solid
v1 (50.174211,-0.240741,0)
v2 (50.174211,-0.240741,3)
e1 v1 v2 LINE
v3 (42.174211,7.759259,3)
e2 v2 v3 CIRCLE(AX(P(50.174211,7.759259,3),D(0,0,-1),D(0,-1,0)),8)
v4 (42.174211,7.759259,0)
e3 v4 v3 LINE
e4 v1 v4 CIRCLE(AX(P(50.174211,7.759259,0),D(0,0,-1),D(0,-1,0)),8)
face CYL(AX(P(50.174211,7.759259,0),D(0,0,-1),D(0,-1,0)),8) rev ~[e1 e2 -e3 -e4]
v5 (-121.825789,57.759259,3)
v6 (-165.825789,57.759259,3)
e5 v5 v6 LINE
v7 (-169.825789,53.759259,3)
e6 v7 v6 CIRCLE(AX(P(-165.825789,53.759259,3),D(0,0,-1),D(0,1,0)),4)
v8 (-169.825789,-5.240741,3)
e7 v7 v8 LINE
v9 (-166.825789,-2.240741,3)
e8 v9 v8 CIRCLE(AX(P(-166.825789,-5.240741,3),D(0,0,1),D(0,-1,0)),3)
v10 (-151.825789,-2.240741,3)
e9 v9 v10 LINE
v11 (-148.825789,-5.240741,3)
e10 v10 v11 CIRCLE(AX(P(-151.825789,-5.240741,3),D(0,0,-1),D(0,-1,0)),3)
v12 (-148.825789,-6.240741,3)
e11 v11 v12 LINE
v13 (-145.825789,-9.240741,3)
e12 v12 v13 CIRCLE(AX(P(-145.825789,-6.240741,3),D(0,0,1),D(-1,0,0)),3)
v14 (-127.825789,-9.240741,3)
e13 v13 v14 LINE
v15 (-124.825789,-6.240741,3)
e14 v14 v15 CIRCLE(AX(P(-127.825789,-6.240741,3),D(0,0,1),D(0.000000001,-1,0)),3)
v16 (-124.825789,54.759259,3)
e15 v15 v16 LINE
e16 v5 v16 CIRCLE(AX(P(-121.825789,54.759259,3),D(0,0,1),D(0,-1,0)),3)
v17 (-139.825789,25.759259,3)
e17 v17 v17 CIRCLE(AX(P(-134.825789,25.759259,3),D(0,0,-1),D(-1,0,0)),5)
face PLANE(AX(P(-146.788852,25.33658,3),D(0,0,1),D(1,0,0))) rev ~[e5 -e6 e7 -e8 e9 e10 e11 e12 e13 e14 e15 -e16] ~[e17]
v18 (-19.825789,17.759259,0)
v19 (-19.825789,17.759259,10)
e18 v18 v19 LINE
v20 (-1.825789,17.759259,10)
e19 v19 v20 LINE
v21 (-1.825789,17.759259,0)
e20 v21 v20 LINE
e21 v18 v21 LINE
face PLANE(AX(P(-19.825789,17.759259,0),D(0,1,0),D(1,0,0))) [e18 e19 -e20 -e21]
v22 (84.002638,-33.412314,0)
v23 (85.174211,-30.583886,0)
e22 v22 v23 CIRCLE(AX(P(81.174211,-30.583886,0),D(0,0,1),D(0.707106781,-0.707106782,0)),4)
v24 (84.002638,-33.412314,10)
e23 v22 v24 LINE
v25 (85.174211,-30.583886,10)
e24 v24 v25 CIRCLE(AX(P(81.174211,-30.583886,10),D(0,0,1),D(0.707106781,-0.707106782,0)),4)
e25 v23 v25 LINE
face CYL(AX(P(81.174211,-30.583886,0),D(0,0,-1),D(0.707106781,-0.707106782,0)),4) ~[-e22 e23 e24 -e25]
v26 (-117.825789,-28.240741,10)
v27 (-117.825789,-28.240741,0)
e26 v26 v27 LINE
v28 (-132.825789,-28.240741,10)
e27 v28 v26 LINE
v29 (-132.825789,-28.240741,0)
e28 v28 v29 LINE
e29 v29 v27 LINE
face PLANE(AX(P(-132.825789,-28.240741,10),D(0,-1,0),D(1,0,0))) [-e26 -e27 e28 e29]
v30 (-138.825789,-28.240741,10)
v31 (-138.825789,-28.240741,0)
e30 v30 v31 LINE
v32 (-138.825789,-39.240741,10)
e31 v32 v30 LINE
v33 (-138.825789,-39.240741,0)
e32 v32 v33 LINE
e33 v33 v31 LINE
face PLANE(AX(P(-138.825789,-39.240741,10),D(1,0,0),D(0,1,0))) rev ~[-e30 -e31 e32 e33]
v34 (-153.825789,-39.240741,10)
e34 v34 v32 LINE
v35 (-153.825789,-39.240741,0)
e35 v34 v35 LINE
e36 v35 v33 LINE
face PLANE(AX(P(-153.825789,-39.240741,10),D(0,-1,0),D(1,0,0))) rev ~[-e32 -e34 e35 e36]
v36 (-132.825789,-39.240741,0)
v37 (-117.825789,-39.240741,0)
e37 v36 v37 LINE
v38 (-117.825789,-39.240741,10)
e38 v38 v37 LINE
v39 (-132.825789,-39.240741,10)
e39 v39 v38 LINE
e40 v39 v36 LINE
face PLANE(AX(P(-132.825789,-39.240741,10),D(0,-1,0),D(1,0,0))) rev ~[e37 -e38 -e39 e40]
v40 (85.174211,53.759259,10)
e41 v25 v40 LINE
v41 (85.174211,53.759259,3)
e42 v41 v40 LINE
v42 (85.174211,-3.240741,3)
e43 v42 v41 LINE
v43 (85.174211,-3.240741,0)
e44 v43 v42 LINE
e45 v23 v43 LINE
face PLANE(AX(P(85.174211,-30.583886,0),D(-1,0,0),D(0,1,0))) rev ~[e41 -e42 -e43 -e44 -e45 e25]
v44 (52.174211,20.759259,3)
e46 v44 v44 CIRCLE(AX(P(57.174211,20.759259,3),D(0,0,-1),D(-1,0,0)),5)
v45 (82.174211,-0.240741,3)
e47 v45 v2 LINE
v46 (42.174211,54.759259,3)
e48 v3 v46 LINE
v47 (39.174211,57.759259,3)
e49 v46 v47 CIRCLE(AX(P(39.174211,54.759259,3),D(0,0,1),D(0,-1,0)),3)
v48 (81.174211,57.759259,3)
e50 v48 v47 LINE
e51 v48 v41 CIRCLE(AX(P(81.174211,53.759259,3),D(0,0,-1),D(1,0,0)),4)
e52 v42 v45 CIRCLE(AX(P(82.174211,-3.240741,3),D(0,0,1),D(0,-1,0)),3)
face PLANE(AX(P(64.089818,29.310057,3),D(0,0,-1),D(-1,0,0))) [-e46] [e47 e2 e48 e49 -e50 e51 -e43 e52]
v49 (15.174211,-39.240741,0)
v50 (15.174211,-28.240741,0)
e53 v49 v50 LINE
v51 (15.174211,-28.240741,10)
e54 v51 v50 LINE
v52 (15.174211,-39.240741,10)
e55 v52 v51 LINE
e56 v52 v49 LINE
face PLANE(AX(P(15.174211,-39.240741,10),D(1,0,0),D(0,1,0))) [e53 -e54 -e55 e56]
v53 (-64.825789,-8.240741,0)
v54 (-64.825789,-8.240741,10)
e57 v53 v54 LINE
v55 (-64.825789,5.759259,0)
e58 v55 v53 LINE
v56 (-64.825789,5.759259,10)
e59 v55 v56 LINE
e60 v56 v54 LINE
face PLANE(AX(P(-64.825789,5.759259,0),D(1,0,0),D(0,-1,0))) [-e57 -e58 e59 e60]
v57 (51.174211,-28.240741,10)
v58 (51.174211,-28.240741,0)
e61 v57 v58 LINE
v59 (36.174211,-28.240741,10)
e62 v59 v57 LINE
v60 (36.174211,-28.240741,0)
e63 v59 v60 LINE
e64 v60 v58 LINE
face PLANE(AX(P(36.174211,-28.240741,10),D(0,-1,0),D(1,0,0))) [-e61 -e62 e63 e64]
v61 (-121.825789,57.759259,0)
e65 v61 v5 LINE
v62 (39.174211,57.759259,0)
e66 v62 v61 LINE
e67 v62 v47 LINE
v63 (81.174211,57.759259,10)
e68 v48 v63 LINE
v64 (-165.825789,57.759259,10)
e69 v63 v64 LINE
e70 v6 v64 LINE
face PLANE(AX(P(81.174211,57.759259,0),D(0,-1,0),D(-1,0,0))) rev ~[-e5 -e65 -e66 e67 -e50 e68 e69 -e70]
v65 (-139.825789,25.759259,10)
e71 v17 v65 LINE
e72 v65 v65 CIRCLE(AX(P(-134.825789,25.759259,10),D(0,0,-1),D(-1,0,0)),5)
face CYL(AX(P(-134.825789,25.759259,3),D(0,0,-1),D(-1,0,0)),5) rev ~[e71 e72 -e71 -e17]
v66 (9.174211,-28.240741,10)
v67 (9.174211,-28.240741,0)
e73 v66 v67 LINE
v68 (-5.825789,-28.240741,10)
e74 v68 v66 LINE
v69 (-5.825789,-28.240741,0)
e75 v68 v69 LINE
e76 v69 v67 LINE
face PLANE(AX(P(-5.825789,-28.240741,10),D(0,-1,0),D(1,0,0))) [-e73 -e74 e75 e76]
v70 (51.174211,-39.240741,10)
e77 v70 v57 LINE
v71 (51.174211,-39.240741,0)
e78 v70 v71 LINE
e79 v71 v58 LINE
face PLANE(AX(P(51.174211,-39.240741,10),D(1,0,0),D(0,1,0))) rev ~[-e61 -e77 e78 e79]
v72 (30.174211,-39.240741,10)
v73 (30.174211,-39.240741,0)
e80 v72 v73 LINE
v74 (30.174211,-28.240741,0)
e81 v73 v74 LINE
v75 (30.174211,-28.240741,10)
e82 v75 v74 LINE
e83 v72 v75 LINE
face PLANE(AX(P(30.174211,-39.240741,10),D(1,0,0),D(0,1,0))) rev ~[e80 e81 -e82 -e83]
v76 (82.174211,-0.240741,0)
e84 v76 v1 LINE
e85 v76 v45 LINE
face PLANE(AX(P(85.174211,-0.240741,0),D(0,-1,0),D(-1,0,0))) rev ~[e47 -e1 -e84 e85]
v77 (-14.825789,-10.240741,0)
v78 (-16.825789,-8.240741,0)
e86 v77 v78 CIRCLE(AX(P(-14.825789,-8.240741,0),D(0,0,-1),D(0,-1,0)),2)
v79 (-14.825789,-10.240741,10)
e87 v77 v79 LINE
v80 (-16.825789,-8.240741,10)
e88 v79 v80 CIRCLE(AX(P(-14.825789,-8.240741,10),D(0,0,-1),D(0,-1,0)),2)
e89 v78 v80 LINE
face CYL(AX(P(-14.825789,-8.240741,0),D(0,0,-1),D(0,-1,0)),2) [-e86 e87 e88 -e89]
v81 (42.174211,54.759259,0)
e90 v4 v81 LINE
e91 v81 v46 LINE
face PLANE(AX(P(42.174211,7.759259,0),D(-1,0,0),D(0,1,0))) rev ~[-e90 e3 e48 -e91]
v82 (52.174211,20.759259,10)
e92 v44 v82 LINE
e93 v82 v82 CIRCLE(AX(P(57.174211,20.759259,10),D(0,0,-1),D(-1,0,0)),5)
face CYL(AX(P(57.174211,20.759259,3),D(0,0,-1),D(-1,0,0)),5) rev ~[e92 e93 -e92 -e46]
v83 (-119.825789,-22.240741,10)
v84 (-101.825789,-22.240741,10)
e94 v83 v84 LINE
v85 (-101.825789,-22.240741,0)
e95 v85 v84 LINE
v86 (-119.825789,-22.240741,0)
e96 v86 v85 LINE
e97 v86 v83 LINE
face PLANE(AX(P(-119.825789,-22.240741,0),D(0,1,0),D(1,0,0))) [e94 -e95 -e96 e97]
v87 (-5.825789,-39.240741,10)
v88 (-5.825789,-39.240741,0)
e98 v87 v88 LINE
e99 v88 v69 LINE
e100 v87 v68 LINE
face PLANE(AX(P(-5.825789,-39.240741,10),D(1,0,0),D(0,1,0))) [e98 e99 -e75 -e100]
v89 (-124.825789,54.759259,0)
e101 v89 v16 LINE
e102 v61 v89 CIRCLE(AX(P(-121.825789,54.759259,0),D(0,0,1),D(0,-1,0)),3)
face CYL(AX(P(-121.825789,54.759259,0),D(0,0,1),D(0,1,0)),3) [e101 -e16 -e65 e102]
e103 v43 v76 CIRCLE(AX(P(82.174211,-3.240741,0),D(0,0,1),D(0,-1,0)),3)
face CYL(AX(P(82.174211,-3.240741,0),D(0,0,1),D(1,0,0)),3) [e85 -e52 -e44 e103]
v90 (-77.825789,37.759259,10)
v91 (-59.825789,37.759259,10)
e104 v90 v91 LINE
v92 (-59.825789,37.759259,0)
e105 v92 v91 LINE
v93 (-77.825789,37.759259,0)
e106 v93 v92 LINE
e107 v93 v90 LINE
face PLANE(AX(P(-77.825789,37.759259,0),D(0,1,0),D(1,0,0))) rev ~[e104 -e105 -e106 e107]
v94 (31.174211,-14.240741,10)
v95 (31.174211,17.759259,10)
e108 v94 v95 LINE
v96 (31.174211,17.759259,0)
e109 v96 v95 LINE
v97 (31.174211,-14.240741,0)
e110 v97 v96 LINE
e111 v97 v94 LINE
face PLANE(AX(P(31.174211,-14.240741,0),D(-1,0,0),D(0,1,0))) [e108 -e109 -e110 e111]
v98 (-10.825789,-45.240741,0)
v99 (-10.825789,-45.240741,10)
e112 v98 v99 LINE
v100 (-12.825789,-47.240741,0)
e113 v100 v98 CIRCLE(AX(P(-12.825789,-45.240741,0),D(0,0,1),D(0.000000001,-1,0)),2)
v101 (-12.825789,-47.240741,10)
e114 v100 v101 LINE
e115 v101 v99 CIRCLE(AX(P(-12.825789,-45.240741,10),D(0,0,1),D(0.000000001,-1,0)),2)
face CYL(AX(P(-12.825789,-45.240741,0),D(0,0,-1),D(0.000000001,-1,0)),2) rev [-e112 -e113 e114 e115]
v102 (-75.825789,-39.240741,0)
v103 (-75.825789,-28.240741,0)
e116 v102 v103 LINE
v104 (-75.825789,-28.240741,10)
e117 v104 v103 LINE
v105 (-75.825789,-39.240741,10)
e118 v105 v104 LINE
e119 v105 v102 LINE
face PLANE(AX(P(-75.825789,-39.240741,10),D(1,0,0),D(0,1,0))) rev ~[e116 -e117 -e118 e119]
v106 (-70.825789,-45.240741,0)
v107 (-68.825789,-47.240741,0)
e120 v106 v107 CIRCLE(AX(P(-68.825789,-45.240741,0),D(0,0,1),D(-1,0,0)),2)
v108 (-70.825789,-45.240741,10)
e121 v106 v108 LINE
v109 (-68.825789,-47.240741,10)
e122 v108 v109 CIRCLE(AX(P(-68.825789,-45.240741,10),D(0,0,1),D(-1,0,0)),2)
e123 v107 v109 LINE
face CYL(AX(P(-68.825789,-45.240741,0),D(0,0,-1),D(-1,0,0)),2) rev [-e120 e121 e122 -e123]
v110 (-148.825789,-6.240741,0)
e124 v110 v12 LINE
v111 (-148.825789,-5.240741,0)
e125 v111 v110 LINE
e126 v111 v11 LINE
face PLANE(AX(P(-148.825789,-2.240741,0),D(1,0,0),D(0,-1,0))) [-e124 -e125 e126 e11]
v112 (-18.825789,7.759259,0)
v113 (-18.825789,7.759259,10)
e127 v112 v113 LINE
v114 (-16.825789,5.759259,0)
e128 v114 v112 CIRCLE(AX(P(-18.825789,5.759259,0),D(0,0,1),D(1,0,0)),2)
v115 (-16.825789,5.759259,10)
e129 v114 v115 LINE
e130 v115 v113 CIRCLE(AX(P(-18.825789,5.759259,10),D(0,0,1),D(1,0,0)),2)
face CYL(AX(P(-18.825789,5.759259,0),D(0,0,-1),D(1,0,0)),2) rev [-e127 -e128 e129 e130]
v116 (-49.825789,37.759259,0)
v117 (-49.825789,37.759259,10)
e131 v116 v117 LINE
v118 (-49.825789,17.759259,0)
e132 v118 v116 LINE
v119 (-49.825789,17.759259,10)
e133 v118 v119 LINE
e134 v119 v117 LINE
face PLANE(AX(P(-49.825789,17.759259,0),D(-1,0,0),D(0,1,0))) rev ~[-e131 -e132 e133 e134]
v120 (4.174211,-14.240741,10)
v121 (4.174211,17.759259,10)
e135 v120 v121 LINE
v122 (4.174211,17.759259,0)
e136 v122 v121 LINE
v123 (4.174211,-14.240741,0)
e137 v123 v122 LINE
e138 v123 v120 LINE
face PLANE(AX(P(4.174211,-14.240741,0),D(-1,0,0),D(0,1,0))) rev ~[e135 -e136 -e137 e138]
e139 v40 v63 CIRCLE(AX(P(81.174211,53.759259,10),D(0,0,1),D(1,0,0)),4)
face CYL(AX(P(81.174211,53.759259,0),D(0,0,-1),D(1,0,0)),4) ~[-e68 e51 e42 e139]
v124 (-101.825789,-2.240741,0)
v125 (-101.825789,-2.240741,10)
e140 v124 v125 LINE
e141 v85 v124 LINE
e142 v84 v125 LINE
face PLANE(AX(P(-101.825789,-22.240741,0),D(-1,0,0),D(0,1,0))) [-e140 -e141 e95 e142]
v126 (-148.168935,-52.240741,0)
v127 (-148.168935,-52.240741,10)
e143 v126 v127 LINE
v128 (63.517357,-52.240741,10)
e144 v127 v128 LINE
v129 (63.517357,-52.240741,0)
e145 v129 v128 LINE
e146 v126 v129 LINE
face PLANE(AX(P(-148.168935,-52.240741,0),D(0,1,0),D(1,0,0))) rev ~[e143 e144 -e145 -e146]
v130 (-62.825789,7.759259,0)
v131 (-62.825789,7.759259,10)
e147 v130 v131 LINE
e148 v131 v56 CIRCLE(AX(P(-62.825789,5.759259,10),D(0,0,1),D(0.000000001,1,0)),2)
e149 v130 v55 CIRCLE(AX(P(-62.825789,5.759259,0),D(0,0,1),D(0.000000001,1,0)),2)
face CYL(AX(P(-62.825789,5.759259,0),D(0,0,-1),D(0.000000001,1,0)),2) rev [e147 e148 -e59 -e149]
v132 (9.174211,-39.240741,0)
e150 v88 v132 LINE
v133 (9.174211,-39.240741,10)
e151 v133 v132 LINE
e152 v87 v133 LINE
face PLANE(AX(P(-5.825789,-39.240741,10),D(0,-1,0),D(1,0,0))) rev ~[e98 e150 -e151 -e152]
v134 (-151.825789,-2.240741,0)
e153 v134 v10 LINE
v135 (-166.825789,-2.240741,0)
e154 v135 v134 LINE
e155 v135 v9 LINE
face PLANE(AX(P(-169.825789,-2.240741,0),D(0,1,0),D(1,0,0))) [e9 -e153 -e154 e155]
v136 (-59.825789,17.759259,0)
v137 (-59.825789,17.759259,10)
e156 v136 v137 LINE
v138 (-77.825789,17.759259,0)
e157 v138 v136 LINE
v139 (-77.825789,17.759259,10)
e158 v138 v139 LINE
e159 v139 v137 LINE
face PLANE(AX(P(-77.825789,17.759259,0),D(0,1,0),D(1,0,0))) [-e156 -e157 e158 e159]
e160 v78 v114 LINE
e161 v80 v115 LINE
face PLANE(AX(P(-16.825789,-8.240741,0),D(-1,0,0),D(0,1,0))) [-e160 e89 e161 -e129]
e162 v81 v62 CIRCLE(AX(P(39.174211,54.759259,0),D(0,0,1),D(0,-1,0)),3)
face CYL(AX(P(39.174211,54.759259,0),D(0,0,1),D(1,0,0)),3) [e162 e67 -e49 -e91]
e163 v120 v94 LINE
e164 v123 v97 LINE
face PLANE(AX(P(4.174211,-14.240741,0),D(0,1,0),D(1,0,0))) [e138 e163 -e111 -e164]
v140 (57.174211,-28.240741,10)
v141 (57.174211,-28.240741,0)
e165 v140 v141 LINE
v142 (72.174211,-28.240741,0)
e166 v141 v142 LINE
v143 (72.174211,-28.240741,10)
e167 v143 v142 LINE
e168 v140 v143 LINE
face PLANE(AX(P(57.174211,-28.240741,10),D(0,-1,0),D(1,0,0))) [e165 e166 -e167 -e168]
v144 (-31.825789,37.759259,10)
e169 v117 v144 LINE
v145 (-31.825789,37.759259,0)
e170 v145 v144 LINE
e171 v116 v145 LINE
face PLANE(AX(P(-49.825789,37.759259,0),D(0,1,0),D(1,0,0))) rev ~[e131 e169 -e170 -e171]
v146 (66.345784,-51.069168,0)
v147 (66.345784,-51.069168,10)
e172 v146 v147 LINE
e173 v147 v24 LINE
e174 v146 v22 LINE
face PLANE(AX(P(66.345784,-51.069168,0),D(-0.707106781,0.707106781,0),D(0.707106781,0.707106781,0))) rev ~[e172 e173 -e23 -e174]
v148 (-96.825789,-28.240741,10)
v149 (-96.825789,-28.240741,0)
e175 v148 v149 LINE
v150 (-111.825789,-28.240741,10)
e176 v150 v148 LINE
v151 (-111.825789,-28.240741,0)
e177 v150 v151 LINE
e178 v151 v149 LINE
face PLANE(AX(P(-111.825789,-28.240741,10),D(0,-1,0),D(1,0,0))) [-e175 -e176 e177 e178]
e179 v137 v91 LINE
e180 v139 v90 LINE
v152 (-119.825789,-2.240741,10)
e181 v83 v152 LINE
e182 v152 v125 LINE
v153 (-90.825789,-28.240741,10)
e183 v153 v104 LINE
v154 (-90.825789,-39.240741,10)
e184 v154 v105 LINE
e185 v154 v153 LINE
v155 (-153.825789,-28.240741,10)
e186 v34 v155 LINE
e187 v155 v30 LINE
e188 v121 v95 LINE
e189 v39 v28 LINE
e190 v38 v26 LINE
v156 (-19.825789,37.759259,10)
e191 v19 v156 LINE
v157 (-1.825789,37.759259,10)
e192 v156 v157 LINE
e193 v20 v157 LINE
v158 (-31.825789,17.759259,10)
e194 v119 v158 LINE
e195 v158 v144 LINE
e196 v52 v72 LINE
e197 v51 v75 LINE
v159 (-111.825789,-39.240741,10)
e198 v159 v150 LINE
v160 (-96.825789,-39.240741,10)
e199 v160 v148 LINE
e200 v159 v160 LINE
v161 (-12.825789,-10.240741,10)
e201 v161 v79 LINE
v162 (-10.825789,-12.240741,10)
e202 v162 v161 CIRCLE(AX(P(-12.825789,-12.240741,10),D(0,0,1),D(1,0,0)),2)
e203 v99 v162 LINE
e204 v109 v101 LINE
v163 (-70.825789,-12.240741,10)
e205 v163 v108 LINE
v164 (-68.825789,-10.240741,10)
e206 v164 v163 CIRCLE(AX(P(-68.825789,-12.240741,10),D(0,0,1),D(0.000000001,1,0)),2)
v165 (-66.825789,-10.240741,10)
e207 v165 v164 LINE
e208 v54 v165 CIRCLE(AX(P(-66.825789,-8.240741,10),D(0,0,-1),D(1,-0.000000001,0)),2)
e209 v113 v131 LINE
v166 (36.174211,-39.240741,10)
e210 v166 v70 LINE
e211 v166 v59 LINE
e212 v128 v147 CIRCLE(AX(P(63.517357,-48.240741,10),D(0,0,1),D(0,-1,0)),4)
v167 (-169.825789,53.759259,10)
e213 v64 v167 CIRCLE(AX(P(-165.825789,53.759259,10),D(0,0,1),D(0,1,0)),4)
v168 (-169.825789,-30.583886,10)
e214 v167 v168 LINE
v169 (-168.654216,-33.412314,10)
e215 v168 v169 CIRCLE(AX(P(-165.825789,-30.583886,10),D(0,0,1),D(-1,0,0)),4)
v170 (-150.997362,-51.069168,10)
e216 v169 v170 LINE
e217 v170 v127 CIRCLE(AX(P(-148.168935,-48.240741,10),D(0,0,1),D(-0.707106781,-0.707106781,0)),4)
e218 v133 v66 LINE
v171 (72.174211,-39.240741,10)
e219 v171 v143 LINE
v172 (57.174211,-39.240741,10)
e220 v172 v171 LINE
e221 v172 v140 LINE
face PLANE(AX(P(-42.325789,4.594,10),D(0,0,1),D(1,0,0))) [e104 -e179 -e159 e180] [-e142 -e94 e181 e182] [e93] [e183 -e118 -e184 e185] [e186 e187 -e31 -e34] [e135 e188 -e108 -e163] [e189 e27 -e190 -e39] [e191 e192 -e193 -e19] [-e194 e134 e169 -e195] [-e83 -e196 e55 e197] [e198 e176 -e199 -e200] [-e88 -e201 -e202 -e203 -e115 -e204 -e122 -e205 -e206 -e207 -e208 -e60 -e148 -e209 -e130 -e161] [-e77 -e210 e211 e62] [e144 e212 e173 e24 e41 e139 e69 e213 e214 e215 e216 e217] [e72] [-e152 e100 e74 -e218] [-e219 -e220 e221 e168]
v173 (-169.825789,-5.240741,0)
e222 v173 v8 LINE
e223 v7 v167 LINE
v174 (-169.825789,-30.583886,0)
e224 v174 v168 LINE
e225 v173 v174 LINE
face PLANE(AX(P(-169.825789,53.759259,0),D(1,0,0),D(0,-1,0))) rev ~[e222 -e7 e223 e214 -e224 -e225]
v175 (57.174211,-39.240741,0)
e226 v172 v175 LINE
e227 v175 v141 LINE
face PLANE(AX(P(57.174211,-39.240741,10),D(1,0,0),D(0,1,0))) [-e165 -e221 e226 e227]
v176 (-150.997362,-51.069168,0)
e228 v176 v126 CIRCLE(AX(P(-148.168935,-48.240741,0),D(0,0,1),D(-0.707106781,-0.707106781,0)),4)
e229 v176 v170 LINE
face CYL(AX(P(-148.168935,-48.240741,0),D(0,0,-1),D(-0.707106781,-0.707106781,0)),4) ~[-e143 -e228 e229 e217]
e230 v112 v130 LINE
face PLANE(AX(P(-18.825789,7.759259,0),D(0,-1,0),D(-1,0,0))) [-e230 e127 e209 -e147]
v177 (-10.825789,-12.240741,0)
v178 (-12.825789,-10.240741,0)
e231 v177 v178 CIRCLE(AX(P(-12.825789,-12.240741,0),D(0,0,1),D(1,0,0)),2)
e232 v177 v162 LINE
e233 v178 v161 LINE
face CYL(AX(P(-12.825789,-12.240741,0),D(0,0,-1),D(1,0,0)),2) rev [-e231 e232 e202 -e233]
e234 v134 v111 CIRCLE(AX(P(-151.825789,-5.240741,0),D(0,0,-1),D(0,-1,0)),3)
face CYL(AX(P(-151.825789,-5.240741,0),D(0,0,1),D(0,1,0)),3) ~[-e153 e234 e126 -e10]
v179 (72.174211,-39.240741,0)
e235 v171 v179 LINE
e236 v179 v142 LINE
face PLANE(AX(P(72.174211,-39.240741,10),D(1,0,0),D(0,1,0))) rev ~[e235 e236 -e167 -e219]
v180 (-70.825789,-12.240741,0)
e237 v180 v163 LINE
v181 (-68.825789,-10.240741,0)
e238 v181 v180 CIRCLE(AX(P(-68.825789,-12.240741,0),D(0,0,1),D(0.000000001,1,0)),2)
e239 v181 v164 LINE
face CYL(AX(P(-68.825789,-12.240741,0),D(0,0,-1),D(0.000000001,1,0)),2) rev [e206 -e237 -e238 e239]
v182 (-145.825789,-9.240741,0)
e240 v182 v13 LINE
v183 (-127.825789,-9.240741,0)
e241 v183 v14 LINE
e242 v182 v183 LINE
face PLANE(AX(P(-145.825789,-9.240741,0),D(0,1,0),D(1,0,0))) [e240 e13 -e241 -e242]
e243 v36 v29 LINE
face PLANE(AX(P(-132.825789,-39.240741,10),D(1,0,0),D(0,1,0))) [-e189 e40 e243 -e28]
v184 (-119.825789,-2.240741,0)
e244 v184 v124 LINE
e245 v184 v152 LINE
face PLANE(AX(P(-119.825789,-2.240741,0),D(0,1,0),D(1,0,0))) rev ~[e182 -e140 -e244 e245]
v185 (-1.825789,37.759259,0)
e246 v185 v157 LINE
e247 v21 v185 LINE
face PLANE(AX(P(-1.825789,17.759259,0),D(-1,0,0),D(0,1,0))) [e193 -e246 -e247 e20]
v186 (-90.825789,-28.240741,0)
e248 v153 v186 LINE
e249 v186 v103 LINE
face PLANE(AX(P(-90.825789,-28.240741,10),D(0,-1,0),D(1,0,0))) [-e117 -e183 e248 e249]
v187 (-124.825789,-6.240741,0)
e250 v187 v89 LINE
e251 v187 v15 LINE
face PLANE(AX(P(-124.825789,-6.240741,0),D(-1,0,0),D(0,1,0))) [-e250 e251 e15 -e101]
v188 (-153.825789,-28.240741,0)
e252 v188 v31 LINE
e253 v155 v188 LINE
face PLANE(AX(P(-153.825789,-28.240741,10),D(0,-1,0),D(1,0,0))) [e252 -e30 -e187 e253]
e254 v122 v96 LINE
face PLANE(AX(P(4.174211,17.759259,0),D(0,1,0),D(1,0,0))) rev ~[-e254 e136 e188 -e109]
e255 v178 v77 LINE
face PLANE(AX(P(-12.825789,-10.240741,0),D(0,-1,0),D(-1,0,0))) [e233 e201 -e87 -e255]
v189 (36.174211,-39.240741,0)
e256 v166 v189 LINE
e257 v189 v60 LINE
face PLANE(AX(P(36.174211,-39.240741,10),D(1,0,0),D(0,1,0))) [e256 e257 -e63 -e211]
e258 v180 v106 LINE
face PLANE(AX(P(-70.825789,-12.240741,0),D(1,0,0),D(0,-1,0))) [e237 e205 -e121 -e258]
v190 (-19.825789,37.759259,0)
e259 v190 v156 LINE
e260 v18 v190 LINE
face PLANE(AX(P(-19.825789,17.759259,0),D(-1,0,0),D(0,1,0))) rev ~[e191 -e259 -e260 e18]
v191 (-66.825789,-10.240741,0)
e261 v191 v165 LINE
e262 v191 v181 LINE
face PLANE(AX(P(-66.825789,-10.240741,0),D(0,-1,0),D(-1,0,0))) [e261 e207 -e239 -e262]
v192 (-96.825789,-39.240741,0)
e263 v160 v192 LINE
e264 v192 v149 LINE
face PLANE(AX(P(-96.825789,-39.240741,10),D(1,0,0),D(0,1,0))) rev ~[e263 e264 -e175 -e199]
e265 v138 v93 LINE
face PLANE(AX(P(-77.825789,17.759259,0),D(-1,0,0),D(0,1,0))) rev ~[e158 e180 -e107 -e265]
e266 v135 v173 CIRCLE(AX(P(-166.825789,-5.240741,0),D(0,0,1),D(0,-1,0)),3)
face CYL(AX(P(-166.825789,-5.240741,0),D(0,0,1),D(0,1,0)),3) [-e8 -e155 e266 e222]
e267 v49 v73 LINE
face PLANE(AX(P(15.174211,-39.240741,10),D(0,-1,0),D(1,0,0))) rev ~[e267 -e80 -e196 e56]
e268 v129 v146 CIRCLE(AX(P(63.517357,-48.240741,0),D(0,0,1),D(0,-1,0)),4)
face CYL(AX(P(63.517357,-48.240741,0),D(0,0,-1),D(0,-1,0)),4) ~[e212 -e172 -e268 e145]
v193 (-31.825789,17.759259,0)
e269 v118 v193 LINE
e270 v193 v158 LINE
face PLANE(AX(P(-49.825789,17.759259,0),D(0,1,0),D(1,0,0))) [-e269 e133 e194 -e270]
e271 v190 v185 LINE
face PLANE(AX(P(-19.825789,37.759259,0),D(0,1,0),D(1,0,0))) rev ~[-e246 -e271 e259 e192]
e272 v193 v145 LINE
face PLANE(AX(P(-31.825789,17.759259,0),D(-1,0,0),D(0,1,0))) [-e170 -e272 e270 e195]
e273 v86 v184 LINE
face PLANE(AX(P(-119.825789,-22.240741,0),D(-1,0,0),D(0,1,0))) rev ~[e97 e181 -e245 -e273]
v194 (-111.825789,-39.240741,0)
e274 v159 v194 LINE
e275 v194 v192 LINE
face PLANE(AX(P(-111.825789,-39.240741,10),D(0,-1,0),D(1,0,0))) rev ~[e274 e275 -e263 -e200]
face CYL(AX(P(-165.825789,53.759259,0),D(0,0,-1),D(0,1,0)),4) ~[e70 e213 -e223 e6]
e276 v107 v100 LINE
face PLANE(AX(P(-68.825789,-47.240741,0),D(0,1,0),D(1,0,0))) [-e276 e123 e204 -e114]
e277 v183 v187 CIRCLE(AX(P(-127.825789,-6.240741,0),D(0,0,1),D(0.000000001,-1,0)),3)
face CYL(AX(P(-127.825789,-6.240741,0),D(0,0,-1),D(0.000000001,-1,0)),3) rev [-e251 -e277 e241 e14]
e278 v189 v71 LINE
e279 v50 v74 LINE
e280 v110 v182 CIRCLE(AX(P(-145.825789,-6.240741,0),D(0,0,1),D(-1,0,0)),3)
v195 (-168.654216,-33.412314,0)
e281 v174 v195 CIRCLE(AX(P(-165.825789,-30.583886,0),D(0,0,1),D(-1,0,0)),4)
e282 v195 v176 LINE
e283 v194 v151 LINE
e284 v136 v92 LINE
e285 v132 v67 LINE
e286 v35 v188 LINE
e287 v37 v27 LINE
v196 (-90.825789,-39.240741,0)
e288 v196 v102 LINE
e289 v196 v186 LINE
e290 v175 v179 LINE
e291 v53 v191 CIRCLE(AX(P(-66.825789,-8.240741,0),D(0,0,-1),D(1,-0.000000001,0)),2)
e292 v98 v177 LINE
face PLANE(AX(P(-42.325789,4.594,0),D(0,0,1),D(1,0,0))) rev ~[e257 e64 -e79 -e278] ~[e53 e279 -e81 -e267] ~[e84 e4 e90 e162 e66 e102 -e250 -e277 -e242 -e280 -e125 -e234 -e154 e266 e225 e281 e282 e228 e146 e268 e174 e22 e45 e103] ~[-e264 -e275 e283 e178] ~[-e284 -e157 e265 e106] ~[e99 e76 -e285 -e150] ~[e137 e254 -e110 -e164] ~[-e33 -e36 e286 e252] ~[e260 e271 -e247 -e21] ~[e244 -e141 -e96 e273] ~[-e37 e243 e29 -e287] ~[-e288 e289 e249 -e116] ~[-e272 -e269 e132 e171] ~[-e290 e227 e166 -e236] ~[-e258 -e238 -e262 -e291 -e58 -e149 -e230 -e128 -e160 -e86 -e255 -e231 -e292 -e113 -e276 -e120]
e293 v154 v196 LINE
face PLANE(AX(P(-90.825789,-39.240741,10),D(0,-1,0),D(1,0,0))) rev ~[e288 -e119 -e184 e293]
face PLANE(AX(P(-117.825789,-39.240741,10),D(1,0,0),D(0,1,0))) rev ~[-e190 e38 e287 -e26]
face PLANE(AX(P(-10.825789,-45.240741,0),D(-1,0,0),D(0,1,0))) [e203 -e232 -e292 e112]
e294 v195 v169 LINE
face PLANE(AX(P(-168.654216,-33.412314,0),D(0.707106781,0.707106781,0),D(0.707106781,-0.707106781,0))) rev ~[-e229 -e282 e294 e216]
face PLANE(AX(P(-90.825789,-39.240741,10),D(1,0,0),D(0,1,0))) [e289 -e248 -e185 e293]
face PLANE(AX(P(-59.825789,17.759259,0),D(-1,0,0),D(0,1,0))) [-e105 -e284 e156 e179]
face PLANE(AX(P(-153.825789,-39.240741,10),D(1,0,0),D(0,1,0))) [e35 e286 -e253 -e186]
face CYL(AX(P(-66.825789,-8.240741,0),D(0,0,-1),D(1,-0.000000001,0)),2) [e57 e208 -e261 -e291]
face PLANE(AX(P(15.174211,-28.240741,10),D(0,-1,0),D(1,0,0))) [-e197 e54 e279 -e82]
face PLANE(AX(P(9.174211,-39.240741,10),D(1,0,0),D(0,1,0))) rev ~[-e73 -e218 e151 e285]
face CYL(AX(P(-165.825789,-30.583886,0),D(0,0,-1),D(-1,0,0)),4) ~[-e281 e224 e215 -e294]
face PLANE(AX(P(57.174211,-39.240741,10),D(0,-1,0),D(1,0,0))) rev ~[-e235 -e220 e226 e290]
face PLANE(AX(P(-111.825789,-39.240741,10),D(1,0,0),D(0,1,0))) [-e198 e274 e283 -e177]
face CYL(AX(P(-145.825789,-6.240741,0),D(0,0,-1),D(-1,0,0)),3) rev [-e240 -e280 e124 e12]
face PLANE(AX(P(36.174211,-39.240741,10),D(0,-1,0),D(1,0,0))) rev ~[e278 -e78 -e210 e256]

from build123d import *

# Parameters (mm, degrees)
SKETCH1_W           = 18
SKETCH1_H           = 20
SKETCH1_W_2         = 27
SKETCH1_H_2         = 32
BOSS_EXTRUDE1_DEPTH = 10
SKETCH2_W           = 15
SKETCH2_H           = 11
CUT_EXTRUDE1_DEPTH  = 10
CUT_EXTRUDE2_DEPTH  = 3
FILLET1_R           = 3
FILLET2_R           = 3
FILLET3_R           = 3
FILLET4_R           = 3
FILLET5_R           = 3
CUT_EXTRUDE3_DEPTH  = 10
SKETCH5_R           = 5
CUT_EXTRUDE4_DEPTH  = 7


with BuildPart() as part:
    # Sketch1 → Boss-Extrude1 (new body)
    with BuildSketch(Plane.XY):
        with BuildLine():
            Line((-168.654215956, -33.412313616), (-150.997361707, -51.069167865))
            ThreePointArc((-150.997361707, -51.069167865), (-149.699668311, -51.936258871), (-148.168934582, -52.240740741))
            Line((-148.168934582, -52.240740741), (63.517356919, -52.240740741))
            ThreePointArc((63.517356919, -52.240740741), (65.048090649, -51.936258871), (66.345784044, -51.069167865))
            Line((66.345784044, -51.069167865), (84.002638293, -33.412313616))
            ThreePointArc((84.002638293, -33.412313616), (84.869729299, -32.114620221), (85.174211169, -30.583886491))
            Line((85.174211169, -30.583886491), (85.174211169, 53.759259259))
            ThreePointArc((85.174211169, 53.759259259), (84.002638293, 56.587686384), (81.174211169, 57.759259259))
            Line((81.174211169, 57.759259259), (-165.825788831, 57.759259259))
            ThreePointArc((-165.825788831, 57.759259259), (-168.654215956, 56.587686384), (-169.825788831, 53.759259259))
            Line((-169.825788831, 53.759259259), (-169.825788831, -30.583886491))
            ThreePointArc((-169.825788831, -30.583886491), (-169.521306961, -32.114620221), (-168.654215956, -33.412313616))
        make_face()
        with Locations((-68.825788831, 27.759259259)):
            Rectangle(SKETCH1_W, SKETCH1_H, mode=Mode.SUBTRACT)
        with Locations((-40.825788831, 27.759259259)):
            Rectangle(SKETCH1_W, SKETCH1_H, mode=Mode.SUBTRACT)
        with Locations((-10.825788831, 27.759259259)):
            Rectangle(SKETCH1_W, SKETCH1_H, mode=Mode.SUBTRACT)
        with Locations((-110.825788831, -12.240740741)):
            Rectangle(SKETCH1_W, SKETCH1_H, mode=Mode.SUBTRACT)
        with Locations((17.674211169, 1.759259259)):
            Rectangle(SKETCH1_W_2, SKETCH1_H_2, mode=Mode.SUBTRACT)
    extrude(amount=BOSS_EXTRUDE1_DEPTH)

    # Sketch2 → Cut-Extrude1 (cut)
    with BuildSketch(Plane.XY.offset(10)):
        with Locations((-146.325788831, -33.740740741)):
            Rectangle(SKETCH2_W, SKETCH2_H)
        with Locations((-125.325788831, -33.740740741)):
            Rectangle(SKETCH2_W, SKETCH2_H)
        with Locations((-104.325788831, -33.740740741)):
            Rectangle(SKETCH2_W, SKETCH2_H)
        with Locations((-83.325788831, -33.740740741)):
            Rectangle(SKETCH2_W, SKETCH2_H)
        with Locations((1.674211169, -33.740740741)):
            Rectangle(SKETCH2_W, SKETCH2_H)
        with Locations((22.674211169, -33.740740741)):
            Rectangle(SKETCH2_W, SKETCH2_H)
        with Locations((43.674211169, -33.740740741)):
            Rectangle(SKETCH2_W, SKETCH2_H)
        with Locations((64.674211169, -33.740740741)):
            Rectangle(SKETCH2_W, SKETCH2_H)
    extrude(amount=-CUT_EXTRUDE1_DEPTH, mode=Mode.SUBTRACT)

    # Sketch3 → Cut-Extrude2 (cut)
    with BuildSketch(Plane(origin=(0, 0, 0), x_dir=(-1, 0, 0), z_dir=(0, 0, -1))):
        with BuildLine():
            Line((-42.174211169, 57.759259259), (-85.174211169, 57.759259259))
            Line((-85.174211169, 57.759259259), (-85.174211169, -0.240740741))
            Line((-85.174211169, -0.240740741), (-50.174211169, -0.240740741))
            ThreePointArc((-50.174211169, -0.240740741), (-44.517356919, 2.10240501), (-42.174211169, 7.759259259))
            Line((-42.174211169, 7.759259259), (-42.174211169, 57.759259259))
        make_face()
        with BuildLine():
            Line((124.825788831, 57.759259259), (169.825788831, 57.759259259))
            Line((169.825788831, 57.759259259), (169.825788831, -2.240740741))
            Line((169.825788831, -2.240740741), (148.825788831, -2.240740741))
            Line((148.825788831, -2.240740741), (148.825788831, -6.240740741))
            ThreePointArc((148.825788831, -6.240740741), (147.947109175, -8.362061084), (145.825788831, -9.240740741))
            Line((145.825788831, -9.240740741), (127.825788831, -9.240740741))
            ThreePointArc((127.825788831, -9.240740741), (125.704468488, -8.362061084), (124.825788831, -6.240740741))
            Line((124.825788831, -6.240740741), (124.825788831, -1.240740741))
            Line((124.825788831, -1.240740741), (124.825788831, 57.759259259))
        make_face()
    extrude(amount=-CUT_EXTRUDE2_DEPTH, mode=Mode.SUBTRACT)

    # Fillet1
    fillet1_edges = [part.edges().sort_by_distance(p)[0] for p in [
        (-148.825788831, -2.240740741, 1.5),
    ]]
    fillet(fillet1_edges, radius=FILLET1_R)

    # Fillet2
    fillet2_edges = [part.edges().sort_by_distance(p)[0] for p in [
        (-169.825788831, -2.240740741, 1.5),
    ]]
    fillet(fillet2_edges, radius=FILLET2_R)

    # Fillet3
    fillet3_edges = [part.edges().sort_by_distance(p)[0] for p in [
        (-124.825788831, 57.759259259, 1.5),
    ]]
    fillet(fillet3_edges, radius=FILLET3_R)

    # Fillet4
    fillet4_edges = [part.edges().sort_by_distance(p)[0] for p in [
        (42.174211169, 57.759259259, 1.5),
    ]]
    fillet(fillet4_edges, radius=FILLET4_R)

    # Fillet5
    fillet5_edges = [part.edges().sort_by_distance(p)[0] for p in [
        (85.174211169, -0.240740741, 1.5),
    ]]
    fillet(fillet5_edges, radius=FILLET5_R)

    # Sketch4 → Cut-Extrude3 (cut)
    with BuildSketch(Plane(origin=(0, 0, 0), x_dir=(-1, 0, 0), z_dir=(0, 0, -1))):
        with BuildLine():
            Line((68.825788831, -47.240740741), (12.825788831, -47.240740741))
            ThreePointArc((12.825788831, -47.240740741), (11.411575269, -46.654954303), (10.825788831, -45.240740741))
            Line((10.825788831, -45.240740741), (10.825788831, -12.240740741))
            ThreePointArc((10.825788831, -12.240740741), (11.411575269, -10.826527178), (12.825788831, -10.240740741))
            Line((12.825788831, -10.240740741), (14.825788831, -10.240740741))
            ThreePointArc((14.825788831, -10.240740741), (16.240002394, -9.654954303), (16.825788831, -8.240740741))
            Line((16.825788831, -8.240740741), (16.825788831, 5.759259259))
            ThreePointArc((16.825788831, 5.759259259), (17.411575269, 7.173472822), (18.825788831, 7.759259259))
            Line((18.825788831, 7.759259259), (62.825788831, 7.759259259))
            ThreePointArc((62.825788831, 7.759259259), (64.240002394, 7.173472822), (64.825788831, 5.759259259))
            Line((64.825788831, 5.759259259), (64.825788831, -8.240740741))
            ThreePointArc((64.825788831, -8.240740741), (65.411575269, -9.654954303), (66.825788831, -10.240740741))
            Line((66.825788831, -10.240740741), (68.825788831, -10.240740741))
            ThreePointArc((68.825788831, -10.240740741), (70.240002394, -10.826527178), (70.825788831, -12.240740741))
            Line((70.825788831, -12.240740741), (70.825788831, -45.240740741))
            ThreePointArc((70.825788831, -45.240740741), (70.240002394, -46.654954303), (68.825788831, -47.240740741))
        make_face()
    extrude(amount=-CUT_EXTRUDE3_DEPTH, mode=Mode.SUBTRACT)

    # Sketch5 → Cut-Extrude4 (cut)
    with BuildSketch(Plane(origin=(0, 0, 3), x_dir=(-1, 0, 0), z_dir=(0, 0, -1))):
        with Locations((-57.174211169, 20.759259259)):
            Circle(SKETCH5_R)
        with Locations((134.825788831, 25.759259259)):
            Circle(SKETCH5_R)
    extrude(amount=-CUT_EXTRUDE4_DEPTH, mode=Mode.SUBTRACT)


solid = part.part
